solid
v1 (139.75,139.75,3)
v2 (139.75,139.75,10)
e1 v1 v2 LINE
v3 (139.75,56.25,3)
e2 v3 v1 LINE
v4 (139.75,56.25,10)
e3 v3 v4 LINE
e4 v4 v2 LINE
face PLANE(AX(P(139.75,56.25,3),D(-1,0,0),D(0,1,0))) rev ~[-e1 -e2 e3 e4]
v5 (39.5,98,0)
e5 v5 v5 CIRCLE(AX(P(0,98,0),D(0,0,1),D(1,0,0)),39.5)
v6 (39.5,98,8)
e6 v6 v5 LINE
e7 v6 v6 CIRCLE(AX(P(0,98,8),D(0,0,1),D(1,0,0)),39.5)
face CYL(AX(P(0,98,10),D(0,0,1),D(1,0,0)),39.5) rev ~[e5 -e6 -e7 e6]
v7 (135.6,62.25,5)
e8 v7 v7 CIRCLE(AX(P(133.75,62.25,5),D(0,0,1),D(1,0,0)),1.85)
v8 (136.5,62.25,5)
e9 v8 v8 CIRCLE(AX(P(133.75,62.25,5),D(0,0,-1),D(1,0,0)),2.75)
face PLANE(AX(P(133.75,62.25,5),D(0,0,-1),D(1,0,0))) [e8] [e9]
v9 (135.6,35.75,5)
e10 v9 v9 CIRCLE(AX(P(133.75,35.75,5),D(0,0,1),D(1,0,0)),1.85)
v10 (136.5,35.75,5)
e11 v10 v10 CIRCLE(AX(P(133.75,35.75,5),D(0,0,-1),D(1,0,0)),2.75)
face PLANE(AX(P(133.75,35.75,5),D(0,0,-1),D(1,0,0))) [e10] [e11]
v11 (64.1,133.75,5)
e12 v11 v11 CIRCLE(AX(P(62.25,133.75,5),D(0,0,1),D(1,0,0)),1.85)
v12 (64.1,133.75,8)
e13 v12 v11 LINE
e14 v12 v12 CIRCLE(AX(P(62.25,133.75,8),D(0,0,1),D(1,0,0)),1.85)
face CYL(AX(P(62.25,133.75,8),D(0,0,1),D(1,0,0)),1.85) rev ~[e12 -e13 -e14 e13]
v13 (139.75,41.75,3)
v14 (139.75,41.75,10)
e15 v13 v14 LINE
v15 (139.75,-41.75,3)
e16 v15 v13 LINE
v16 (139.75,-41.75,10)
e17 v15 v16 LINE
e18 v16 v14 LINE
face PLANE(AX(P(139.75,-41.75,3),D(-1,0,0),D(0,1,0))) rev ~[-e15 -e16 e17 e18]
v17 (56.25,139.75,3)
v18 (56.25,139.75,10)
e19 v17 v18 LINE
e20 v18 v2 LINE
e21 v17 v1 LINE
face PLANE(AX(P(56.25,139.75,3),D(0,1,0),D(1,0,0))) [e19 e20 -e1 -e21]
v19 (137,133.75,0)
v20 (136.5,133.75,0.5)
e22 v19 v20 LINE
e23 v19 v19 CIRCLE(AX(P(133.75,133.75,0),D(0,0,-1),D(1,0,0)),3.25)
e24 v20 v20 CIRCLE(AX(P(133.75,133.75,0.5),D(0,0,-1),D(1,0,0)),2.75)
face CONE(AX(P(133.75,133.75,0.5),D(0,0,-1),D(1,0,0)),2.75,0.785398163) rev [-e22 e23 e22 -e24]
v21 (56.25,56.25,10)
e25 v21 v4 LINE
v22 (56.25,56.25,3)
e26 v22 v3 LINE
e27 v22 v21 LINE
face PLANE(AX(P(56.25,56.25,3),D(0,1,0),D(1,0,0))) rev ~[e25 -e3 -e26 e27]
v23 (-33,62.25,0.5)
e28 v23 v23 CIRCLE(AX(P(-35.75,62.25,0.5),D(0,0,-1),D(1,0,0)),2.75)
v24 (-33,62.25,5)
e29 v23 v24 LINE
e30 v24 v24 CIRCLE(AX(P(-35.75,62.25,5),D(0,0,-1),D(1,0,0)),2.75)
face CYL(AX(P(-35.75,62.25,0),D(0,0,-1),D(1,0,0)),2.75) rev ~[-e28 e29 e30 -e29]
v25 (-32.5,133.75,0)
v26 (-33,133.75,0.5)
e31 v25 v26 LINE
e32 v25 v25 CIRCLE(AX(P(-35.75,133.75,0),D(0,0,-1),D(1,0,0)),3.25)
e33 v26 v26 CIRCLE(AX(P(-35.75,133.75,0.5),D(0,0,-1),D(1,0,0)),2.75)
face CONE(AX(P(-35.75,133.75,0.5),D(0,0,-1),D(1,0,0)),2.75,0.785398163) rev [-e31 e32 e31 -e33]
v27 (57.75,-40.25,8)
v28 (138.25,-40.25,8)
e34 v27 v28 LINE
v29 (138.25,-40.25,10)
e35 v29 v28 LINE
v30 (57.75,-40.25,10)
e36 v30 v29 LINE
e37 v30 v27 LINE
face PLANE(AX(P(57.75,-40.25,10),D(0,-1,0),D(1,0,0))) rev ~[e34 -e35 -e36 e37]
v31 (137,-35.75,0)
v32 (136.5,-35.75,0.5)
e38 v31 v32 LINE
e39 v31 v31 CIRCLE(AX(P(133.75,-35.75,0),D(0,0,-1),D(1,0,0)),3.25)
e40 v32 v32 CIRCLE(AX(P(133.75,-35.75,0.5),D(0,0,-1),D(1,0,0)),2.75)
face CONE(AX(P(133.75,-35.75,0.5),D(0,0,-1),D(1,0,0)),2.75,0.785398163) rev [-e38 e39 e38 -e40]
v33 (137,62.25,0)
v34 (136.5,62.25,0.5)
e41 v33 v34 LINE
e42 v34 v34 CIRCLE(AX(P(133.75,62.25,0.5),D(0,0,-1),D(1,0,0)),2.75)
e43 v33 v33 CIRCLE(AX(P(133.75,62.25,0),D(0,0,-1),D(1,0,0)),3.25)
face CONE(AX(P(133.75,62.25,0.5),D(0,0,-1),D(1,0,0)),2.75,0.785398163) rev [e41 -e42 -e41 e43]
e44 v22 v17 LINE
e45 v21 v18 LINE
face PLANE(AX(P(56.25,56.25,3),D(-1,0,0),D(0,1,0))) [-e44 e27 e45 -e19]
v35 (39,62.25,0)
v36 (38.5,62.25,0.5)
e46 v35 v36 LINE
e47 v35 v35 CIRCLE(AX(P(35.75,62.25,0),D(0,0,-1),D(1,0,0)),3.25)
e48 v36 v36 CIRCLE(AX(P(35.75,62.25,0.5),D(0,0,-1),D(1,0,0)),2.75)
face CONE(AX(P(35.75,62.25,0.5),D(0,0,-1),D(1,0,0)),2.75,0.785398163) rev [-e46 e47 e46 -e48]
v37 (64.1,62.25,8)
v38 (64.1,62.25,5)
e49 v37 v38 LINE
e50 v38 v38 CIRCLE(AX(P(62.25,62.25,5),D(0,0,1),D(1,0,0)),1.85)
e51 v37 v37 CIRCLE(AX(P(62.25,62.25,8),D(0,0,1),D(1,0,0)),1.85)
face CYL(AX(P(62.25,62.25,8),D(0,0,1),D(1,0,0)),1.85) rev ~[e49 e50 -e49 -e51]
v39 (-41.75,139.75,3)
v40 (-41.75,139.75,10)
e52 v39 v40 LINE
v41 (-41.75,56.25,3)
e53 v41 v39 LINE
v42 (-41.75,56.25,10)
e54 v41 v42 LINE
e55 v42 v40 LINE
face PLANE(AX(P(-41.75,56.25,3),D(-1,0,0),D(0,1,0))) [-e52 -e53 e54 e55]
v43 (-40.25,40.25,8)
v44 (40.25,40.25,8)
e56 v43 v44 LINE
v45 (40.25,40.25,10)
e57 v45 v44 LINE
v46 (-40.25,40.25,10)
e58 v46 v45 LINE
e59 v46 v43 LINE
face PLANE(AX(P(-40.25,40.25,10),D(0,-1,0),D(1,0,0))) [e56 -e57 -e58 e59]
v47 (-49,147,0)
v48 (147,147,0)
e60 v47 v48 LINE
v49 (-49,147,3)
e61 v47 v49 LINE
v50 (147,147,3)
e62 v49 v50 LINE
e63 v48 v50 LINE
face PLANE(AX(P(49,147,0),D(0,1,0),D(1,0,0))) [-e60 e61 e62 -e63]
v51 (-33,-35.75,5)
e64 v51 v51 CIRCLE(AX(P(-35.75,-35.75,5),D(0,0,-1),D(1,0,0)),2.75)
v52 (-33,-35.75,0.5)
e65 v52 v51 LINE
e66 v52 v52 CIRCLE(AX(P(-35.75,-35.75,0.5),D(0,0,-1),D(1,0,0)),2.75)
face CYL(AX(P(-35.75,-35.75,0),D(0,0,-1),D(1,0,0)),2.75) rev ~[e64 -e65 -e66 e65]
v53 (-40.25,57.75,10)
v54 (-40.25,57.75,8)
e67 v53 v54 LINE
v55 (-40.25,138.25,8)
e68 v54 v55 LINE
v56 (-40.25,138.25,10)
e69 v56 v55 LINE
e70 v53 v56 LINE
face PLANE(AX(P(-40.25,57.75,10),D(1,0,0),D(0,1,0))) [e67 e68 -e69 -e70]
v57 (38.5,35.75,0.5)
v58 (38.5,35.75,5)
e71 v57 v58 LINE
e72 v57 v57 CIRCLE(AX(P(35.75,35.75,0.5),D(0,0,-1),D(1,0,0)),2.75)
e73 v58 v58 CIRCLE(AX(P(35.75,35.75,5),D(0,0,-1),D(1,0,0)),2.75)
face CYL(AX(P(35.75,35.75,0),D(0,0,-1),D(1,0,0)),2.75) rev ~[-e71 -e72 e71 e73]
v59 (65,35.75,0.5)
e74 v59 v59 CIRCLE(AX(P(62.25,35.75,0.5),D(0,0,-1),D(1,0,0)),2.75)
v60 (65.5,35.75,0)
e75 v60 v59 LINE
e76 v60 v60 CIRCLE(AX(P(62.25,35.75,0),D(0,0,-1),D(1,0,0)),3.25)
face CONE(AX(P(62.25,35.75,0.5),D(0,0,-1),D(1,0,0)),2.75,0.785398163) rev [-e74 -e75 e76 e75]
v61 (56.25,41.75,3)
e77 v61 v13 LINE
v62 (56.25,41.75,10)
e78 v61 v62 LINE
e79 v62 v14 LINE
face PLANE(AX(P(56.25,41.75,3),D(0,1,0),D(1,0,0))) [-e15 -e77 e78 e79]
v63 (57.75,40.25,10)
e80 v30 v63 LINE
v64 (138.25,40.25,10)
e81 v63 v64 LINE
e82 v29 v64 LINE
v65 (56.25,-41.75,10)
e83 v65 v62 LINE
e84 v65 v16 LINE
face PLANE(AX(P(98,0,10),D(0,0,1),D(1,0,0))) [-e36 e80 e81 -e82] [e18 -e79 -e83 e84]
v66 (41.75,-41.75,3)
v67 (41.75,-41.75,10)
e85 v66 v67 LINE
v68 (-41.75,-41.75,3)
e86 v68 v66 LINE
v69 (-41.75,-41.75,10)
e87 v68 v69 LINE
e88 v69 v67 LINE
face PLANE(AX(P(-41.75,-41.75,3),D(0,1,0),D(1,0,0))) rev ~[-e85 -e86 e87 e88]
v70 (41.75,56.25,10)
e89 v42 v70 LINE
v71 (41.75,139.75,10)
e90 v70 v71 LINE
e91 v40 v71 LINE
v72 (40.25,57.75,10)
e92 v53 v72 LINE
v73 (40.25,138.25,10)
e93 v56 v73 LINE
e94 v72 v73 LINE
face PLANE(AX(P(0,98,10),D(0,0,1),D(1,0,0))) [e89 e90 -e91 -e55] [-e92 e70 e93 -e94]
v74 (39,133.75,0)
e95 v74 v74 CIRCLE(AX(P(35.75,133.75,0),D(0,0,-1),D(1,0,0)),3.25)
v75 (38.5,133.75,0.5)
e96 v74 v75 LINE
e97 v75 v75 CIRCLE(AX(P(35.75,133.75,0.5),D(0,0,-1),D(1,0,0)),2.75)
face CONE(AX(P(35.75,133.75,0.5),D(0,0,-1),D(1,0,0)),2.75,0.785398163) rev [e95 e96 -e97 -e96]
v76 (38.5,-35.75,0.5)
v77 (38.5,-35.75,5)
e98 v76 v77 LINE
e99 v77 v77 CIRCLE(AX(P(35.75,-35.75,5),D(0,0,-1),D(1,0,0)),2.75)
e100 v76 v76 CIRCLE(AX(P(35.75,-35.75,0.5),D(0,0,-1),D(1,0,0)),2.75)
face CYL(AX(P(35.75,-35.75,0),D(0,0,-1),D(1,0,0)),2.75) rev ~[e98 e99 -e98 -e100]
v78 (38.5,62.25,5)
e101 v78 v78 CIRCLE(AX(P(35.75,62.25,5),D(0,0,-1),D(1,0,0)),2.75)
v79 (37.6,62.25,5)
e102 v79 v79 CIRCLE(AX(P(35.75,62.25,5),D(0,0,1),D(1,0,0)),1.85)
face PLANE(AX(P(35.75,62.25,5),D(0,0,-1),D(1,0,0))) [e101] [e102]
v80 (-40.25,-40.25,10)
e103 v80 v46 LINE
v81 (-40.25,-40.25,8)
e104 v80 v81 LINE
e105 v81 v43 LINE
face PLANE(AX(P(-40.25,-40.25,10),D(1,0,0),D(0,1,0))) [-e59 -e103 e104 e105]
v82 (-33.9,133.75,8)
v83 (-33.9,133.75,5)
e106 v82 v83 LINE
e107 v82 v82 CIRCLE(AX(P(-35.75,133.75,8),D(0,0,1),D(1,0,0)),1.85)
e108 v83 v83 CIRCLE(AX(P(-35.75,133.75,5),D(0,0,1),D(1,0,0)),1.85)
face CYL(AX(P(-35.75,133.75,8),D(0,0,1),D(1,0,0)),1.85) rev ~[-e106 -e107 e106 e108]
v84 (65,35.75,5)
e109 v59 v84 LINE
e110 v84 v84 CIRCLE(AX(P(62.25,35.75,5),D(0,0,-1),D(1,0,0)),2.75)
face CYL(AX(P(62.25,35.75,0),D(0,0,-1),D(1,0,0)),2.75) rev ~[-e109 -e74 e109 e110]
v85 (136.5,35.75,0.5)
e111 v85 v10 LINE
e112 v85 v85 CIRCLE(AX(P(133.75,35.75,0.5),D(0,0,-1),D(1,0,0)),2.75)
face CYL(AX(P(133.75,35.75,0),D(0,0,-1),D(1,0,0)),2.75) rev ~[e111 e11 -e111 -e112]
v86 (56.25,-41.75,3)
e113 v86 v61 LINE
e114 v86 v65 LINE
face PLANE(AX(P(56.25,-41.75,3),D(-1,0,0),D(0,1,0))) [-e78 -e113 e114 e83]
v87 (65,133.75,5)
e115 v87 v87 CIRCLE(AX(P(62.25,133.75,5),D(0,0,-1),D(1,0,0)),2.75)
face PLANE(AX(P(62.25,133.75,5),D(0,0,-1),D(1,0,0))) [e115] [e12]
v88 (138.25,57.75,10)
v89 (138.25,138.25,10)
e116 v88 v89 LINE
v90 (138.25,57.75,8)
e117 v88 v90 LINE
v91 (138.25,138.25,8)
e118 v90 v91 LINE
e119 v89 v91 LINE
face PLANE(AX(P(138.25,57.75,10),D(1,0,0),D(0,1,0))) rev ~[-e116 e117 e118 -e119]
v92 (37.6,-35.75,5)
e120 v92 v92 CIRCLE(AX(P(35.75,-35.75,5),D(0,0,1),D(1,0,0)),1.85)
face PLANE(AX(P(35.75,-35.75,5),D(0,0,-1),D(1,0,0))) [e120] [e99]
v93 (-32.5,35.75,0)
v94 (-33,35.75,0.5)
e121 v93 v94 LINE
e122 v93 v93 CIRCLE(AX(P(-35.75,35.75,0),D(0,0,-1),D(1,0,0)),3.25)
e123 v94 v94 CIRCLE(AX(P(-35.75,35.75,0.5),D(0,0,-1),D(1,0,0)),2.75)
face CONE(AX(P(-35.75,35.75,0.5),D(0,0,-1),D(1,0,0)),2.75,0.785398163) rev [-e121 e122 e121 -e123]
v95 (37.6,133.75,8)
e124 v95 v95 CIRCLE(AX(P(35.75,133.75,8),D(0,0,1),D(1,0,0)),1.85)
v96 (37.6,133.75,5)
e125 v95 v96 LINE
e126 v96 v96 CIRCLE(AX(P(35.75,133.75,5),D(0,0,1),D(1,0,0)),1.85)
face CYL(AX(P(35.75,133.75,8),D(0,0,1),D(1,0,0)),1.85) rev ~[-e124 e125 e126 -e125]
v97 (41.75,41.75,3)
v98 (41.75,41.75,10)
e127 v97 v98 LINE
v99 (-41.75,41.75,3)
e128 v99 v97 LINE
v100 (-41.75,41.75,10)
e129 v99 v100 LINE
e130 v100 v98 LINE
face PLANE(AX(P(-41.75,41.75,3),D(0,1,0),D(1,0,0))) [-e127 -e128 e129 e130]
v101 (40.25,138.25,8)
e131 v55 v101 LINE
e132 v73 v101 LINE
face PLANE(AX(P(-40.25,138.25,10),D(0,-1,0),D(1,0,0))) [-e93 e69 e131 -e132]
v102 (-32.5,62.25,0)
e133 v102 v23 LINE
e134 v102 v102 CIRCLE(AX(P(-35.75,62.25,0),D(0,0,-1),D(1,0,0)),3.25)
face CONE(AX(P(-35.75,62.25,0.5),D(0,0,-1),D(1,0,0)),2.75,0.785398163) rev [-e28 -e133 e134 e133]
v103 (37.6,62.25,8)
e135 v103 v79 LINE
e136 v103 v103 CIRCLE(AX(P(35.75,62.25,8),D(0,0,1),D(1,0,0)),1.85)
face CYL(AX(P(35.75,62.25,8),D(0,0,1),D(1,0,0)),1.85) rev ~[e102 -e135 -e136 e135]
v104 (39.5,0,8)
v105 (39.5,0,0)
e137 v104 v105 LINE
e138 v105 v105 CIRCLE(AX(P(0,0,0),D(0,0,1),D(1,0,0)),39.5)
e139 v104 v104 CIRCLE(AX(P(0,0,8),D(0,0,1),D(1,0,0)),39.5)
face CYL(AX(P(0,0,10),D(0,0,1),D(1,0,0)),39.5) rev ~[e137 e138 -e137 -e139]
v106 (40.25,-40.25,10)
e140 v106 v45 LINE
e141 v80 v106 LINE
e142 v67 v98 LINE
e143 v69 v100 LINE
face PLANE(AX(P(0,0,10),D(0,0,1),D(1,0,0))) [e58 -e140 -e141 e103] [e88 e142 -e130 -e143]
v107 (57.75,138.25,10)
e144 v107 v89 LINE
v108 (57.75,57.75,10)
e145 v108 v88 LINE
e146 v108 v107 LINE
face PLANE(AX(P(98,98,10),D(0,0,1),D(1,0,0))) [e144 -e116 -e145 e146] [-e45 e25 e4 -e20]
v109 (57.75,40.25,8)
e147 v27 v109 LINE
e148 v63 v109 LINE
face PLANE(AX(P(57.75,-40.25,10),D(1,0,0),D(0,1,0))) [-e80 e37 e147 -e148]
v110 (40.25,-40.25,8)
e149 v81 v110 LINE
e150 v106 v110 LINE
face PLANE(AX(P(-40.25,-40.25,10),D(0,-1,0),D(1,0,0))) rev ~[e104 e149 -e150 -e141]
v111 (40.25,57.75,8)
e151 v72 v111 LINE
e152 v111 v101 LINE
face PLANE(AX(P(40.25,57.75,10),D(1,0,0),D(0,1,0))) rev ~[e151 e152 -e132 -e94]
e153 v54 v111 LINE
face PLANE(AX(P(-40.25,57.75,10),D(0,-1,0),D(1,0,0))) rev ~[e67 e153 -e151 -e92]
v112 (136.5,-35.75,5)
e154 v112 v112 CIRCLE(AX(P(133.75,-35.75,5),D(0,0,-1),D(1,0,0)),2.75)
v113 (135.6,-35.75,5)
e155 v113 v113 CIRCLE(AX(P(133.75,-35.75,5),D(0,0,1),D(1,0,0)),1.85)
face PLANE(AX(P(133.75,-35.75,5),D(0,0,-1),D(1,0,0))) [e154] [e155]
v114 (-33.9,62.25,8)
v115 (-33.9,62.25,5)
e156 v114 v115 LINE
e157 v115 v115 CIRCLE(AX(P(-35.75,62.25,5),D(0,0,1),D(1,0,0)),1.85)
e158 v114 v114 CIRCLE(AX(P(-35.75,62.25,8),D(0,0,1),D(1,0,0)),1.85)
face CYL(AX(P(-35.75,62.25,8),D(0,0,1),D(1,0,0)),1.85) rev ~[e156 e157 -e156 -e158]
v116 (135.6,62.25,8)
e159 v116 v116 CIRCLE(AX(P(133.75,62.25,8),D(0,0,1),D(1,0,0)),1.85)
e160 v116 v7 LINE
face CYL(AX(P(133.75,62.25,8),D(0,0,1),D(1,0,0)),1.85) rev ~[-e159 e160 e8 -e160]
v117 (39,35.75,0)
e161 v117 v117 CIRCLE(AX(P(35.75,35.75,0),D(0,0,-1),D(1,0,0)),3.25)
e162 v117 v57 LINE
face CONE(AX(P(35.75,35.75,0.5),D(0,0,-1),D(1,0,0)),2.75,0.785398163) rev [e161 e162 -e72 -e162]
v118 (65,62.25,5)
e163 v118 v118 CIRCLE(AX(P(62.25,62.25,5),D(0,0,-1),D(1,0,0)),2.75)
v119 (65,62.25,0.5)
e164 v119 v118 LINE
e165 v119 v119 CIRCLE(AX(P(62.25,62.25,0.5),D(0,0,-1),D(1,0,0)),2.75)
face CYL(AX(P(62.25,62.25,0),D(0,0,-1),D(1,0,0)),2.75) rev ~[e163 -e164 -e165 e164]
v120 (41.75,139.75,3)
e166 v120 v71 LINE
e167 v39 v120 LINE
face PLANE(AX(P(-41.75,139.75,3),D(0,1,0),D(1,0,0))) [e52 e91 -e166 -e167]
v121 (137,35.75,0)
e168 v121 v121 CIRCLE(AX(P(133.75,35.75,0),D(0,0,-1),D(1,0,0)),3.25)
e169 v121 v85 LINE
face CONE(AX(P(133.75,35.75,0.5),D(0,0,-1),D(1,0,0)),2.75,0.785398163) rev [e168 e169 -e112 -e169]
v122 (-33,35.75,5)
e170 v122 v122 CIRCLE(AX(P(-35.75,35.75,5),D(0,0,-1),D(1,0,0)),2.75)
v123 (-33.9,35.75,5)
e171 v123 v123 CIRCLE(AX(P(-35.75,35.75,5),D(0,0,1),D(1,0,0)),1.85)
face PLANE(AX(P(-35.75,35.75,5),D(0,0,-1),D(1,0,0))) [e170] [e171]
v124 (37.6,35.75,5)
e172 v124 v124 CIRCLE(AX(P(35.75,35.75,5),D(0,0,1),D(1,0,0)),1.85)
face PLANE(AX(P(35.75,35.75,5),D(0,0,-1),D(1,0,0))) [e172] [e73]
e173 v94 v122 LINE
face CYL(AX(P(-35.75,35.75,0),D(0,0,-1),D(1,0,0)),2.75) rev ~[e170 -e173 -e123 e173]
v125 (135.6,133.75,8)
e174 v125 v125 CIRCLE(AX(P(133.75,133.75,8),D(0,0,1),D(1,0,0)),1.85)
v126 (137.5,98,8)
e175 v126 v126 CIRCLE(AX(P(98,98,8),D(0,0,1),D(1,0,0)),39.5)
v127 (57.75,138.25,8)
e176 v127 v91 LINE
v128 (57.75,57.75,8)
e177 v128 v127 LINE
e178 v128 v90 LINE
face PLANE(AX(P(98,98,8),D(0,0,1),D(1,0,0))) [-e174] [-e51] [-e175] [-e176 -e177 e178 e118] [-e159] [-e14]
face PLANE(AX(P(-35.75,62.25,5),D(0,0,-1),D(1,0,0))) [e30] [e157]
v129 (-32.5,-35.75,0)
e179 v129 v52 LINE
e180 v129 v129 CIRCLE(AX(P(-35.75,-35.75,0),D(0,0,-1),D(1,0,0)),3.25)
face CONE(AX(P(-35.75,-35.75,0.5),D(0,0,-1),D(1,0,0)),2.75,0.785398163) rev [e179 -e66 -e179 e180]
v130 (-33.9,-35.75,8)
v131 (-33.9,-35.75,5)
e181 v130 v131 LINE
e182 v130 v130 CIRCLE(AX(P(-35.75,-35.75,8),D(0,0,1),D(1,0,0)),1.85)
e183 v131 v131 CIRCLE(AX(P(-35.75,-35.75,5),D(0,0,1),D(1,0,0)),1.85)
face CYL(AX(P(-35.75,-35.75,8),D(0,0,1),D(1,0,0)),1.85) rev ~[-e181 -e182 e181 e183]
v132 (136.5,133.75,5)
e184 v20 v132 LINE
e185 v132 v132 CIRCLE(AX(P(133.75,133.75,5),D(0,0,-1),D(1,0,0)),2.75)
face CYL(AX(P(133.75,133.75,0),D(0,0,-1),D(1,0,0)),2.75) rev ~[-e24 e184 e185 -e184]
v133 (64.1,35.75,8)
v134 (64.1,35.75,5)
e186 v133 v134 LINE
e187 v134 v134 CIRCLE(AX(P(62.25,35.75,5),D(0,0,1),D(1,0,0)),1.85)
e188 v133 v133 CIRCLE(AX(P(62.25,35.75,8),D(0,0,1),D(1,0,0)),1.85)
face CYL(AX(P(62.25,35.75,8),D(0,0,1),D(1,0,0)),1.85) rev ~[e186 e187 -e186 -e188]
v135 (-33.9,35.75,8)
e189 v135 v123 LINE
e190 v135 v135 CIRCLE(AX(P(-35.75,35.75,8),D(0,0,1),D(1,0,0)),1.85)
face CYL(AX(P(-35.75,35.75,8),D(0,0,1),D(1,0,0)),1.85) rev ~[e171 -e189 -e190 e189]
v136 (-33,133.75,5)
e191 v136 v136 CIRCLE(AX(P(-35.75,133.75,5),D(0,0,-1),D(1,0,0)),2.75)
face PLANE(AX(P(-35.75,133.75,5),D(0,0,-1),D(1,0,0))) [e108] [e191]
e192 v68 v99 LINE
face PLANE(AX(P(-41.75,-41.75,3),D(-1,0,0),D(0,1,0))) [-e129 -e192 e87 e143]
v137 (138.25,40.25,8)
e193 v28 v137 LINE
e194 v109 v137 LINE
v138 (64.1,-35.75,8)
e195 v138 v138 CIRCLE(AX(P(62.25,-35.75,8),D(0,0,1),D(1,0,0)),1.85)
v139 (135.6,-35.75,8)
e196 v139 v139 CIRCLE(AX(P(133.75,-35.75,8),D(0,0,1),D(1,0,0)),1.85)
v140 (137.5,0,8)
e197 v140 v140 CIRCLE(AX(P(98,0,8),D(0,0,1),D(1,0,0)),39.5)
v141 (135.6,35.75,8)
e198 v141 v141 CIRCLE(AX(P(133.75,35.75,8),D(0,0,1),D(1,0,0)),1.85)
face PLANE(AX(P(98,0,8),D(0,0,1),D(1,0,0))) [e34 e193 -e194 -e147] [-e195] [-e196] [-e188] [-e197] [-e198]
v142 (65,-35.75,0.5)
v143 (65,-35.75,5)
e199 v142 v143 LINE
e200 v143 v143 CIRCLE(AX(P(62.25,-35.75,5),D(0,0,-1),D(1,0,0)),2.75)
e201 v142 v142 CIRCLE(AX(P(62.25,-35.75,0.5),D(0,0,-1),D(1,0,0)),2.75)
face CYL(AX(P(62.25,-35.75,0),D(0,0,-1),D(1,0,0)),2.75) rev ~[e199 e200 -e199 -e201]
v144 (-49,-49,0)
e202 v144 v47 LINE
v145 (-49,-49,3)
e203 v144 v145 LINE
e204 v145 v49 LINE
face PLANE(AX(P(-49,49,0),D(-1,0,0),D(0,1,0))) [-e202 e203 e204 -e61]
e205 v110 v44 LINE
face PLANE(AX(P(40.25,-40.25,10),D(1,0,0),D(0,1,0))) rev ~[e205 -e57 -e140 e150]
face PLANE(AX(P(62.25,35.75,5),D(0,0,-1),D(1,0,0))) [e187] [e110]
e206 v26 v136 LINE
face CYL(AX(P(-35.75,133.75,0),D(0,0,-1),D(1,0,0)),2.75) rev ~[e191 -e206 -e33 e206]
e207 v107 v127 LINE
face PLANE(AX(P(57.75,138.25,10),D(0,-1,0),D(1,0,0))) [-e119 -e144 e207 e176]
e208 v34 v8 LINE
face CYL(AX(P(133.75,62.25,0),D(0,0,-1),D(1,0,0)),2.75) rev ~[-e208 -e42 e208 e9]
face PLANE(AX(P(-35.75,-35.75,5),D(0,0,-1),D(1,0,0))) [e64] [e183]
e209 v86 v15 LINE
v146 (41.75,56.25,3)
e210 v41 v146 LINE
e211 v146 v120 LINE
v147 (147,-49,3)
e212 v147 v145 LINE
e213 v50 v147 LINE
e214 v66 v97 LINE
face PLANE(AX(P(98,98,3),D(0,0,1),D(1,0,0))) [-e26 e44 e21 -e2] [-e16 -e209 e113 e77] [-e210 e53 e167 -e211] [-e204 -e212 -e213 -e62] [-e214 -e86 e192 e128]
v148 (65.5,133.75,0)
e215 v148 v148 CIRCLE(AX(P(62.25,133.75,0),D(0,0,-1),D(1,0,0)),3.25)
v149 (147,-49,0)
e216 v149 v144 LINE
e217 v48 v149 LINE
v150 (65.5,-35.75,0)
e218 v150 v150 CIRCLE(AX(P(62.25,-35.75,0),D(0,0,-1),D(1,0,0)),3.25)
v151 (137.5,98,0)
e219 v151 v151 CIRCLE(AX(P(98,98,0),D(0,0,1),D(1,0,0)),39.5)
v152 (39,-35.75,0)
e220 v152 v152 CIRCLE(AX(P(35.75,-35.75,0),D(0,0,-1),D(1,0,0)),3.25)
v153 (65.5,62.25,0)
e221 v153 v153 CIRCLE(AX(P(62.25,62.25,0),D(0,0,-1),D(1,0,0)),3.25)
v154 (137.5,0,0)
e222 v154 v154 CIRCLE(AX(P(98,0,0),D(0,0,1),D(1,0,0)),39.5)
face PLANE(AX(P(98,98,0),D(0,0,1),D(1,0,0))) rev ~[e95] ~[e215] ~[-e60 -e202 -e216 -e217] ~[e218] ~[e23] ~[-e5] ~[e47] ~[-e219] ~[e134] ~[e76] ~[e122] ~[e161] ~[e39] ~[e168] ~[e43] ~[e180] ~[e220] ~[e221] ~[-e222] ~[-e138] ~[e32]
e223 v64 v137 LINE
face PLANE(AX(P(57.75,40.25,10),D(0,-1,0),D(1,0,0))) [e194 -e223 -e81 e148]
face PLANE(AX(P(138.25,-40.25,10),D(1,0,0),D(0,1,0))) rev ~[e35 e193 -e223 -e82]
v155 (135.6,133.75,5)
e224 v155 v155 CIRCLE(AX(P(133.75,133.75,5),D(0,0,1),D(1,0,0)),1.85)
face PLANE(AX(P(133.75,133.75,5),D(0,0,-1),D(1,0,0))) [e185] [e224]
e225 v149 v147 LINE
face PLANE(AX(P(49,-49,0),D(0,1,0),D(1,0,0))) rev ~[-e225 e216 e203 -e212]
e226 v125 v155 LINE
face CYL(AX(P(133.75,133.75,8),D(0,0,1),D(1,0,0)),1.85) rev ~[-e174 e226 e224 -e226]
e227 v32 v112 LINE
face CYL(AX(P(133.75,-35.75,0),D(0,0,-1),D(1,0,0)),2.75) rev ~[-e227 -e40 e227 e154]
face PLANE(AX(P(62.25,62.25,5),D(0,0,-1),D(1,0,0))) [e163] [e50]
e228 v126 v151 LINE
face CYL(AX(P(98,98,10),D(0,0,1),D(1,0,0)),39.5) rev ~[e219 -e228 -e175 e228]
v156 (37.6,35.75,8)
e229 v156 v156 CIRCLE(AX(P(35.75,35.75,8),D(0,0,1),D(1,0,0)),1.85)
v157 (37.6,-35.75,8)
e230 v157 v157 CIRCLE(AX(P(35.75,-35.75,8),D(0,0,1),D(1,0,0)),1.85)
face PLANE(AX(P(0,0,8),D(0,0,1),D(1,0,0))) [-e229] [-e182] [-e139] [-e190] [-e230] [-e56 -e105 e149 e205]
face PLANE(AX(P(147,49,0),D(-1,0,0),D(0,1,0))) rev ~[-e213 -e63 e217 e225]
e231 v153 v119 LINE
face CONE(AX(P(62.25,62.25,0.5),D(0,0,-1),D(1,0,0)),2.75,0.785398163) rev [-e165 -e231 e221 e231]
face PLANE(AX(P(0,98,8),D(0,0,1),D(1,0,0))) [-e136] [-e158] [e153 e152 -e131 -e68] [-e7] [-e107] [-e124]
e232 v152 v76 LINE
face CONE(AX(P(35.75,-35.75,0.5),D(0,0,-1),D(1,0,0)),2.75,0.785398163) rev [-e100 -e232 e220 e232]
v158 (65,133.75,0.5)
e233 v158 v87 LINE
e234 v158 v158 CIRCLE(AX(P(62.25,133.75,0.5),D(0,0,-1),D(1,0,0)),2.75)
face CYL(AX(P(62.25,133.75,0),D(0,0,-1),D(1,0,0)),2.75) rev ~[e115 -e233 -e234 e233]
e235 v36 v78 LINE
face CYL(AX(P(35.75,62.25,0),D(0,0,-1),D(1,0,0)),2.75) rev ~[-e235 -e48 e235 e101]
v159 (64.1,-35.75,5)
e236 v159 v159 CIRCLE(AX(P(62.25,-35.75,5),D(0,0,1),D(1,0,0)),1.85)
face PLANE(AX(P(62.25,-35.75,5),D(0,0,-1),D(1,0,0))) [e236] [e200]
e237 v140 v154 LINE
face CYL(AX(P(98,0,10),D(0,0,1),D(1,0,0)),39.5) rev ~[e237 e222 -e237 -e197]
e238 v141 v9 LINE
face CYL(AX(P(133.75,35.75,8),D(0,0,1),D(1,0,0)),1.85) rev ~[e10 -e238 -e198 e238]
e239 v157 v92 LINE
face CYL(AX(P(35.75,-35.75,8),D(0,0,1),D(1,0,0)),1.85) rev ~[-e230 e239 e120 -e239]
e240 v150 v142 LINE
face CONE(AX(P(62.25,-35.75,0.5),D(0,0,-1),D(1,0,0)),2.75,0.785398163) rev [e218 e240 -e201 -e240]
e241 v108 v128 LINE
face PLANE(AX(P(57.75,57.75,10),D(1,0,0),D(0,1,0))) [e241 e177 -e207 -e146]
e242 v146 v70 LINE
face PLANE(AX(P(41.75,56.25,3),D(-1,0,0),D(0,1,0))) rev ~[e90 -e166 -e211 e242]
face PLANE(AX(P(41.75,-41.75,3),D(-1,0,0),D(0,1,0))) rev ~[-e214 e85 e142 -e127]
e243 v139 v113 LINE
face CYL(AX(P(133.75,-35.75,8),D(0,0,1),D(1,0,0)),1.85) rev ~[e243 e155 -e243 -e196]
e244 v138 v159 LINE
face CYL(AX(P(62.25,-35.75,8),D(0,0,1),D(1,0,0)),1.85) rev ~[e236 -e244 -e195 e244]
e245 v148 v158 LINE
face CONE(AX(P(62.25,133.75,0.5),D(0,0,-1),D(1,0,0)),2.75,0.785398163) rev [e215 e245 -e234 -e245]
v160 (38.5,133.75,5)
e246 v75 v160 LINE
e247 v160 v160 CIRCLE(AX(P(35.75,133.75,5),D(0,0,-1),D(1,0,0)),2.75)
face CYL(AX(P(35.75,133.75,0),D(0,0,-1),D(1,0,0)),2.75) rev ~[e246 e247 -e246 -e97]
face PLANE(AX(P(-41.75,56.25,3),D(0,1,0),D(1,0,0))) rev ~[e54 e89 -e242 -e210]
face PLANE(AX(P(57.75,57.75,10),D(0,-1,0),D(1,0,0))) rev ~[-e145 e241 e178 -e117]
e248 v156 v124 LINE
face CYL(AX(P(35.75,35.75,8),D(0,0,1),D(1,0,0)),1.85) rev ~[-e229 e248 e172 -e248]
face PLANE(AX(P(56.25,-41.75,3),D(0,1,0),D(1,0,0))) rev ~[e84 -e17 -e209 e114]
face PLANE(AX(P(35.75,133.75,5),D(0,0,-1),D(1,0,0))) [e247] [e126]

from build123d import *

# Parameters (mm, degrees)
SKETCH009_W     = 98
SKETCH009_H     = 98
PAD003_DEPTH    = 3
SKETCH006_W     = 83.5
SKETCH006_H     = 83.5
PAD002_DEPTH    = 7
SKETCH011_R     = 39.5
POCKET007_DEPTH = 10
SKETCH007_W     = 80.5
SKETCH007_H     = 80.5
POCKET004_DEPTH = 2
SKETCH010_R     = 1.85
POCKET006_DEPTH = 8
SKETCH008_R     = 2.75
POCKET005_DEPTH = 5
CHAMFER001_SIZE = 0.5
SKETCH015_W     = 98
SKETCH015_H     = 98
PAD005_DEPTH    = 3
SKETCH012_W     = 83.5
SKETCH012_H     = 83.5
PAD004_DEPTH    = 7
SKETCH017_R     = 39.5
POCKET011_DEPTH = 10
SKETCH013_W     = 80.5
SKETCH013_H     = 80.5
POCKET008_DEPTH = 2
SKETCH016_R     = 1.85
POCKET010_DEPTH = 8
SKETCH014_R     = 2.75
POCKET009_DEPTH = 5
CHAMFER002_SIZE = 0.5
SKETCH021_W     = 98
SKETCH021_H     = 98
PAD007_DEPTH    = 3
SKETCH018_W     = 83.5
SKETCH018_H     = 83.5
PAD006_DEPTH    = 7
SKETCH023_R     = 39.5
POCKET015_DEPTH = 10
SKETCH019_W     = 80.5
SKETCH019_H     = 80.5
POCKET012_DEPTH = 2
SKETCH022_R     = 1.85
POCKET014_DEPTH = 8
SKETCH020_R     = 2.75
POCKET013_DEPTH = 5
CHAMFER003_SIZE = 0.5
SKETCH_W        = 98
SKETCH_H        = 98
PAD_DEPTH       = 3
SKETCH001_W     = 83.5
SKETCH001_H     = 83.5
PAD001_DEPTH    = 7
SKETCH002_R     = 39.5
POCKET_DEPTH    = 10
SKETCH003_W     = 80.5
SKETCH003_H     = 80.5
POCKET001_DEPTH = 2
SKETCH004_R     = 1.85
POCKET002_DEPTH = 8
SKETCH005_R     = 2.75
POCKET003_DEPTH = 5
CHAMFER_SIZE    = 0.5


with BuildPart() as body001:
    # Sketch009 → Pad003 (new body)
    with BuildSketch(Plane.XY):
        Rectangle(SKETCH009_W, SKETCH009_H)
    extrude(amount=PAD003_DEPTH)

    # Sketch006 (on Face6 of Pad003) → Pad002 (join)
    with BuildSketch(Plane.XY.offset(3)):
        Rectangle(SKETCH006_W, SKETCH006_H)
    extrude(amount=PAD002_DEPTH)

    # Sketch011 (on Face11 of Pad002) → Pocket007 (cut)
    with BuildSketch(Plane.XY.offset(10)):
        Circle(SKETCH011_R)
    extrude(amount=-POCKET007_DEPTH, mode=Mode.SUBTRACT)

    # Sketch007 (on Face12 of Pocket007) → Pocket004 (cut)
    with BuildSketch(Plane.XY.offset(10)):
        Rectangle(SKETCH007_W, SKETCH007_H)
    extrude(amount=-POCKET004_DEPTH, mode=Mode.SUBTRACT)

    # Sketch010 (on Face12 of Pocket004) → Pocket006 (cut)
    with BuildSketch(Plane.XY.offset(8)):
        with Locations((-35.75, 35.75)):
            Circle(SKETCH010_R)
        with Locations((35.75, 35.75)):
            Circle(SKETCH010_R)
        with Locations((35.75, -35.75)):
            Circle(SKETCH010_R)
        with Locations((-35.75, -35.75)):
            Circle(SKETCH010_R)
    extrude(amount=-POCKET006_DEPTH, mode=Mode.SUBTRACT)

    # Sketch008 (on Face4 of Pocket006) → Pocket005 (cut)
    with BuildSketch(Plane(origin=(0, 0, 0), x_dir=(1, 0, 0), z_dir=(0, 0, -1))):
        with Locations((-35.75, 35.75)):
            Circle(SKETCH008_R)
        with Locations((35.75, 35.75)):
            Circle(SKETCH008_R)
        with Locations((35.75, -35.75)):
            Circle(SKETCH008_R)
        with Locations((-35.75, -35.75)):
            Circle(SKETCH008_R)
    extrude(amount=-POCKET005_DEPTH, mode=Mode.SUBTRACT)

    # Chamfer001
    chamfer001_edges = [body001.edges().sort_by_distance(p)[0] for p in [
        (33, 35.75, 0),
        (33, -35.75, 0),
        (-38.5, -35.75, 0),
        (-38.5, 35.75, 0),
    ]]
    chamfer(chamfer001_edges, length=CHAMFER001_SIZE)


with BuildPart() as body001_1:
    # Body001 placement: moved
    add(body001.part.moved(Location((98, 0, 0))))


with BuildPart() as body002:
    # Sketch015 → Pad005 (new body)
    with BuildSketch(Plane.XY):
        Rectangle(SKETCH015_W, SKETCH015_H)
    extrude(amount=PAD005_DEPTH)

    # Sketch012 (on Face6 of Pad005) → Pad004 (join)
    with BuildSketch(Plane.XY.offset(3)):
        Rectangle(SKETCH012_W, SKETCH012_H)
    extrude(amount=PAD004_DEPTH)

    # Sketch017 (on Face11 of Pad004) → Pocket011 (cut)
    with BuildSketch(Plane.XY.offset(10)):
        Circle(SKETCH017_R)
    extrude(amount=-POCKET011_DEPTH, mode=Mode.SUBTRACT)

    # Sketch013 (on Face12 of Pocket011) → Pocket008 (cut)
    with BuildSketch(Plane.XY.offset(10)):
        Rectangle(SKETCH013_W, SKETCH013_H)
    extrude(amount=-POCKET008_DEPTH, mode=Mode.SUBTRACT)

    # Sketch016 (on Face12 of Pocket008) → Pocket010 (cut)
    with BuildSketch(Plane.XY.offset(8)):
        with Locations((-35.75, 35.75)):
            Circle(SKETCH016_R)
        with Locations((35.75, 35.75)):
            Circle(SKETCH016_R)
        with Locations((35.75, -35.75)):
            Circle(SKETCH016_R)
        with Locations((-35.75, -35.75)):
            Circle(SKETCH016_R)
    extrude(amount=-POCKET010_DEPTH, mode=Mode.SUBTRACT)

    # Sketch014 (on Face4 of Pocket010) → Pocket009 (cut)
    with BuildSketch(Plane(origin=(0, 0, 0), x_dir=(1, 0, 0), z_dir=(0, 0, -1))):
        with Locations((-35.75, 35.75)):
            Circle(SKETCH014_R)
        with Locations((35.75, 35.75)):
            Circle(SKETCH014_R)
        with Locations((35.75, -35.75)):
            Circle(SKETCH014_R)
        with Locations((-35.75, -35.75)):
            Circle(SKETCH014_R)
    extrude(amount=-POCKET009_DEPTH, mode=Mode.SUBTRACT)

    # Chamfer002
    chamfer002_edges = [body002.edges().sort_by_distance(p)[0] for p in [
        (33, 35.75, 0),
        (33, -35.75, 0),
        (-38.5, -35.75, 0),
        (-38.5, 35.75, 0),
    ]]
    chamfer(chamfer002_edges, length=CHAMFER002_SIZE)


with BuildPart() as body002_1:
    # Body002 placement: moved
    add(body002.part.moved(Location((0, 98, 0))))


with BuildPart() as body003:
    # Sketch021 → Pad007 (new body)
    with BuildSketch(Plane.XY):
        Rectangle(SKETCH021_W, SKETCH021_H)
    extrude(amount=PAD007_DEPTH)

    # Sketch018 (on Face6 of Pad007) → Pad006 (join)
    with BuildSketch(Plane.XY.offset(3)):
        Rectangle(SKETCH018_W, SKETCH018_H)
    extrude(amount=PAD006_DEPTH)

    # Sketch023 (on Face11 of Pad006) → Pocket015 (cut)
    with BuildSketch(Plane.XY.offset(10)):
        Circle(SKETCH023_R)
    extrude(amount=-POCKET015_DEPTH, mode=Mode.SUBTRACT)

    # Sketch019 (on Face12 of Pocket015) → Pocket012 (cut)
    with BuildSketch(Plane.XY.offset(10)):
        Rectangle(SKETCH019_W, SKETCH019_H)
    extrude(amount=-POCKET012_DEPTH, mode=Mode.SUBTRACT)

    # Sketch022 (on Face12 of Pocket012) → Pocket014 (cut)
    with BuildSketch(Plane.XY.offset(8)):
        with Locations((-35.75, 35.75)):
            Circle(SKETCH022_R)
        with Locations((35.75, 35.75)):
            Circle(SKETCH022_R)
        with Locations((35.75, -35.75)):
            Circle(SKETCH022_R)
        with Locations((-35.75, -35.75)):
            Circle(SKETCH022_R)
    extrude(amount=-POCKET014_DEPTH, mode=Mode.SUBTRACT)

    # Sketch020 (on Face4 of Pocket014) → Pocket013 (cut)
    with BuildSketch(Plane(origin=(0, 0, 0), x_dir=(1, 0, 0), z_dir=(0, 0, -1))):
        with Locations((-35.75, 35.75)):
            Circle(SKETCH020_R)
        with Locations((35.75, 35.75)):
            Circle(SKETCH020_R)
        with Locations((35.75, -35.75)):
            Circle(SKETCH020_R)
        with Locations((-35.75, -35.75)):
            Circle(SKETCH020_R)
    extrude(amount=-POCKET013_DEPTH, mode=Mode.SUBTRACT)

    # Chamfer003
    chamfer003_edges = [body003.edges().sort_by_distance(p)[0] for p in [
        (33, 35.75, 0),
        (33, -35.75, 0),
        (-38.5, -35.75, 0),
        (-38.5, 35.75, 0),
    ]]
    chamfer(chamfer003_edges, length=CHAMFER003_SIZE)


with BuildPart() as body003_1:
    # Body003 placement: moved
    add(body003.part.moved(Location((98, 98, 0))))


with BuildPart() as body004:
    # Sketch → Pad (new body)
    with BuildSketch(Plane.XY):
        Rectangle(SKETCH_W, SKETCH_H)
    extrude(amount=PAD_DEPTH)

    # Sketch001 (on Face6 of Pad) → Pad001 (join)
    with BuildSketch(Plane.XY.offset(3)):
        Rectangle(SKETCH001_W, SKETCH001_H)
    extrude(amount=PAD001_DEPTH)

    # Sketch002 (on Face11 of Pad001) → Pocket (cut)
    with BuildSketch(Plane.XY.offset(10)):
        Circle(SKETCH002_R)
    extrude(amount=-POCKET_DEPTH, mode=Mode.SUBTRACT)

    # Sketch003 (on Face12 of Pocket) → Pocket001 (cut)
    with BuildSketch(Plane.XY.offset(10)):
        Rectangle(SKETCH003_W, SKETCH003_H)
    extrude(amount=-POCKET001_DEPTH, mode=Mode.SUBTRACT)

    # Sketch004 (on Face12 of Pocket001) → Pocket002 (cut)
    with BuildSketch(Plane.XY.offset(8)):
        with Locations((-35.75, 35.75)):
            Circle(SKETCH004_R)
        with Locations((35.75, 35.75)):
            Circle(SKETCH004_R)
        with Locations((35.75, -35.75)):
            Circle(SKETCH004_R)
        with Locations((-35.75, -35.75)):
            Circle(SKETCH004_R)
    extrude(amount=-POCKET002_DEPTH, mode=Mode.SUBTRACT)

    # Sketch005 (on Face4 of Pocket002) → Pocket003 (cut)
    with BuildSketch(Plane(origin=(0, 0, 0), x_dir=(1, 0, 0), z_dir=(0, 0, -1))):
        with Locations((-35.75, 35.75)):
            Circle(SKETCH005_R)
        with Locations((35.75, 35.75)):
            Circle(SKETCH005_R)
        with Locations((35.75, -35.75)):
            Circle(SKETCH005_R)
        with Locations((-35.75, -35.75)):
            Circle(SKETCH005_R)
    extrude(amount=-POCKET003_DEPTH, mode=Mode.SUBTRACT)

    # Chamfer
    chamfer_edges = [body004.edges().sort_by_distance(p)[0] for p in [
        (33, 35.75, 0),
        (33, -35.75, 0),
        (-38.5, -35.75, 0),
        (-38.5, 35.75, 0),
    ]]
    chamfer(chamfer_edges, length=CHAMFER_SIZE)

    # Fusion: union Body001, Body002, Body003
    add(body001_1.part)
    add(body002_1.part)
    add(body003_1.part)


solid = body004.part
